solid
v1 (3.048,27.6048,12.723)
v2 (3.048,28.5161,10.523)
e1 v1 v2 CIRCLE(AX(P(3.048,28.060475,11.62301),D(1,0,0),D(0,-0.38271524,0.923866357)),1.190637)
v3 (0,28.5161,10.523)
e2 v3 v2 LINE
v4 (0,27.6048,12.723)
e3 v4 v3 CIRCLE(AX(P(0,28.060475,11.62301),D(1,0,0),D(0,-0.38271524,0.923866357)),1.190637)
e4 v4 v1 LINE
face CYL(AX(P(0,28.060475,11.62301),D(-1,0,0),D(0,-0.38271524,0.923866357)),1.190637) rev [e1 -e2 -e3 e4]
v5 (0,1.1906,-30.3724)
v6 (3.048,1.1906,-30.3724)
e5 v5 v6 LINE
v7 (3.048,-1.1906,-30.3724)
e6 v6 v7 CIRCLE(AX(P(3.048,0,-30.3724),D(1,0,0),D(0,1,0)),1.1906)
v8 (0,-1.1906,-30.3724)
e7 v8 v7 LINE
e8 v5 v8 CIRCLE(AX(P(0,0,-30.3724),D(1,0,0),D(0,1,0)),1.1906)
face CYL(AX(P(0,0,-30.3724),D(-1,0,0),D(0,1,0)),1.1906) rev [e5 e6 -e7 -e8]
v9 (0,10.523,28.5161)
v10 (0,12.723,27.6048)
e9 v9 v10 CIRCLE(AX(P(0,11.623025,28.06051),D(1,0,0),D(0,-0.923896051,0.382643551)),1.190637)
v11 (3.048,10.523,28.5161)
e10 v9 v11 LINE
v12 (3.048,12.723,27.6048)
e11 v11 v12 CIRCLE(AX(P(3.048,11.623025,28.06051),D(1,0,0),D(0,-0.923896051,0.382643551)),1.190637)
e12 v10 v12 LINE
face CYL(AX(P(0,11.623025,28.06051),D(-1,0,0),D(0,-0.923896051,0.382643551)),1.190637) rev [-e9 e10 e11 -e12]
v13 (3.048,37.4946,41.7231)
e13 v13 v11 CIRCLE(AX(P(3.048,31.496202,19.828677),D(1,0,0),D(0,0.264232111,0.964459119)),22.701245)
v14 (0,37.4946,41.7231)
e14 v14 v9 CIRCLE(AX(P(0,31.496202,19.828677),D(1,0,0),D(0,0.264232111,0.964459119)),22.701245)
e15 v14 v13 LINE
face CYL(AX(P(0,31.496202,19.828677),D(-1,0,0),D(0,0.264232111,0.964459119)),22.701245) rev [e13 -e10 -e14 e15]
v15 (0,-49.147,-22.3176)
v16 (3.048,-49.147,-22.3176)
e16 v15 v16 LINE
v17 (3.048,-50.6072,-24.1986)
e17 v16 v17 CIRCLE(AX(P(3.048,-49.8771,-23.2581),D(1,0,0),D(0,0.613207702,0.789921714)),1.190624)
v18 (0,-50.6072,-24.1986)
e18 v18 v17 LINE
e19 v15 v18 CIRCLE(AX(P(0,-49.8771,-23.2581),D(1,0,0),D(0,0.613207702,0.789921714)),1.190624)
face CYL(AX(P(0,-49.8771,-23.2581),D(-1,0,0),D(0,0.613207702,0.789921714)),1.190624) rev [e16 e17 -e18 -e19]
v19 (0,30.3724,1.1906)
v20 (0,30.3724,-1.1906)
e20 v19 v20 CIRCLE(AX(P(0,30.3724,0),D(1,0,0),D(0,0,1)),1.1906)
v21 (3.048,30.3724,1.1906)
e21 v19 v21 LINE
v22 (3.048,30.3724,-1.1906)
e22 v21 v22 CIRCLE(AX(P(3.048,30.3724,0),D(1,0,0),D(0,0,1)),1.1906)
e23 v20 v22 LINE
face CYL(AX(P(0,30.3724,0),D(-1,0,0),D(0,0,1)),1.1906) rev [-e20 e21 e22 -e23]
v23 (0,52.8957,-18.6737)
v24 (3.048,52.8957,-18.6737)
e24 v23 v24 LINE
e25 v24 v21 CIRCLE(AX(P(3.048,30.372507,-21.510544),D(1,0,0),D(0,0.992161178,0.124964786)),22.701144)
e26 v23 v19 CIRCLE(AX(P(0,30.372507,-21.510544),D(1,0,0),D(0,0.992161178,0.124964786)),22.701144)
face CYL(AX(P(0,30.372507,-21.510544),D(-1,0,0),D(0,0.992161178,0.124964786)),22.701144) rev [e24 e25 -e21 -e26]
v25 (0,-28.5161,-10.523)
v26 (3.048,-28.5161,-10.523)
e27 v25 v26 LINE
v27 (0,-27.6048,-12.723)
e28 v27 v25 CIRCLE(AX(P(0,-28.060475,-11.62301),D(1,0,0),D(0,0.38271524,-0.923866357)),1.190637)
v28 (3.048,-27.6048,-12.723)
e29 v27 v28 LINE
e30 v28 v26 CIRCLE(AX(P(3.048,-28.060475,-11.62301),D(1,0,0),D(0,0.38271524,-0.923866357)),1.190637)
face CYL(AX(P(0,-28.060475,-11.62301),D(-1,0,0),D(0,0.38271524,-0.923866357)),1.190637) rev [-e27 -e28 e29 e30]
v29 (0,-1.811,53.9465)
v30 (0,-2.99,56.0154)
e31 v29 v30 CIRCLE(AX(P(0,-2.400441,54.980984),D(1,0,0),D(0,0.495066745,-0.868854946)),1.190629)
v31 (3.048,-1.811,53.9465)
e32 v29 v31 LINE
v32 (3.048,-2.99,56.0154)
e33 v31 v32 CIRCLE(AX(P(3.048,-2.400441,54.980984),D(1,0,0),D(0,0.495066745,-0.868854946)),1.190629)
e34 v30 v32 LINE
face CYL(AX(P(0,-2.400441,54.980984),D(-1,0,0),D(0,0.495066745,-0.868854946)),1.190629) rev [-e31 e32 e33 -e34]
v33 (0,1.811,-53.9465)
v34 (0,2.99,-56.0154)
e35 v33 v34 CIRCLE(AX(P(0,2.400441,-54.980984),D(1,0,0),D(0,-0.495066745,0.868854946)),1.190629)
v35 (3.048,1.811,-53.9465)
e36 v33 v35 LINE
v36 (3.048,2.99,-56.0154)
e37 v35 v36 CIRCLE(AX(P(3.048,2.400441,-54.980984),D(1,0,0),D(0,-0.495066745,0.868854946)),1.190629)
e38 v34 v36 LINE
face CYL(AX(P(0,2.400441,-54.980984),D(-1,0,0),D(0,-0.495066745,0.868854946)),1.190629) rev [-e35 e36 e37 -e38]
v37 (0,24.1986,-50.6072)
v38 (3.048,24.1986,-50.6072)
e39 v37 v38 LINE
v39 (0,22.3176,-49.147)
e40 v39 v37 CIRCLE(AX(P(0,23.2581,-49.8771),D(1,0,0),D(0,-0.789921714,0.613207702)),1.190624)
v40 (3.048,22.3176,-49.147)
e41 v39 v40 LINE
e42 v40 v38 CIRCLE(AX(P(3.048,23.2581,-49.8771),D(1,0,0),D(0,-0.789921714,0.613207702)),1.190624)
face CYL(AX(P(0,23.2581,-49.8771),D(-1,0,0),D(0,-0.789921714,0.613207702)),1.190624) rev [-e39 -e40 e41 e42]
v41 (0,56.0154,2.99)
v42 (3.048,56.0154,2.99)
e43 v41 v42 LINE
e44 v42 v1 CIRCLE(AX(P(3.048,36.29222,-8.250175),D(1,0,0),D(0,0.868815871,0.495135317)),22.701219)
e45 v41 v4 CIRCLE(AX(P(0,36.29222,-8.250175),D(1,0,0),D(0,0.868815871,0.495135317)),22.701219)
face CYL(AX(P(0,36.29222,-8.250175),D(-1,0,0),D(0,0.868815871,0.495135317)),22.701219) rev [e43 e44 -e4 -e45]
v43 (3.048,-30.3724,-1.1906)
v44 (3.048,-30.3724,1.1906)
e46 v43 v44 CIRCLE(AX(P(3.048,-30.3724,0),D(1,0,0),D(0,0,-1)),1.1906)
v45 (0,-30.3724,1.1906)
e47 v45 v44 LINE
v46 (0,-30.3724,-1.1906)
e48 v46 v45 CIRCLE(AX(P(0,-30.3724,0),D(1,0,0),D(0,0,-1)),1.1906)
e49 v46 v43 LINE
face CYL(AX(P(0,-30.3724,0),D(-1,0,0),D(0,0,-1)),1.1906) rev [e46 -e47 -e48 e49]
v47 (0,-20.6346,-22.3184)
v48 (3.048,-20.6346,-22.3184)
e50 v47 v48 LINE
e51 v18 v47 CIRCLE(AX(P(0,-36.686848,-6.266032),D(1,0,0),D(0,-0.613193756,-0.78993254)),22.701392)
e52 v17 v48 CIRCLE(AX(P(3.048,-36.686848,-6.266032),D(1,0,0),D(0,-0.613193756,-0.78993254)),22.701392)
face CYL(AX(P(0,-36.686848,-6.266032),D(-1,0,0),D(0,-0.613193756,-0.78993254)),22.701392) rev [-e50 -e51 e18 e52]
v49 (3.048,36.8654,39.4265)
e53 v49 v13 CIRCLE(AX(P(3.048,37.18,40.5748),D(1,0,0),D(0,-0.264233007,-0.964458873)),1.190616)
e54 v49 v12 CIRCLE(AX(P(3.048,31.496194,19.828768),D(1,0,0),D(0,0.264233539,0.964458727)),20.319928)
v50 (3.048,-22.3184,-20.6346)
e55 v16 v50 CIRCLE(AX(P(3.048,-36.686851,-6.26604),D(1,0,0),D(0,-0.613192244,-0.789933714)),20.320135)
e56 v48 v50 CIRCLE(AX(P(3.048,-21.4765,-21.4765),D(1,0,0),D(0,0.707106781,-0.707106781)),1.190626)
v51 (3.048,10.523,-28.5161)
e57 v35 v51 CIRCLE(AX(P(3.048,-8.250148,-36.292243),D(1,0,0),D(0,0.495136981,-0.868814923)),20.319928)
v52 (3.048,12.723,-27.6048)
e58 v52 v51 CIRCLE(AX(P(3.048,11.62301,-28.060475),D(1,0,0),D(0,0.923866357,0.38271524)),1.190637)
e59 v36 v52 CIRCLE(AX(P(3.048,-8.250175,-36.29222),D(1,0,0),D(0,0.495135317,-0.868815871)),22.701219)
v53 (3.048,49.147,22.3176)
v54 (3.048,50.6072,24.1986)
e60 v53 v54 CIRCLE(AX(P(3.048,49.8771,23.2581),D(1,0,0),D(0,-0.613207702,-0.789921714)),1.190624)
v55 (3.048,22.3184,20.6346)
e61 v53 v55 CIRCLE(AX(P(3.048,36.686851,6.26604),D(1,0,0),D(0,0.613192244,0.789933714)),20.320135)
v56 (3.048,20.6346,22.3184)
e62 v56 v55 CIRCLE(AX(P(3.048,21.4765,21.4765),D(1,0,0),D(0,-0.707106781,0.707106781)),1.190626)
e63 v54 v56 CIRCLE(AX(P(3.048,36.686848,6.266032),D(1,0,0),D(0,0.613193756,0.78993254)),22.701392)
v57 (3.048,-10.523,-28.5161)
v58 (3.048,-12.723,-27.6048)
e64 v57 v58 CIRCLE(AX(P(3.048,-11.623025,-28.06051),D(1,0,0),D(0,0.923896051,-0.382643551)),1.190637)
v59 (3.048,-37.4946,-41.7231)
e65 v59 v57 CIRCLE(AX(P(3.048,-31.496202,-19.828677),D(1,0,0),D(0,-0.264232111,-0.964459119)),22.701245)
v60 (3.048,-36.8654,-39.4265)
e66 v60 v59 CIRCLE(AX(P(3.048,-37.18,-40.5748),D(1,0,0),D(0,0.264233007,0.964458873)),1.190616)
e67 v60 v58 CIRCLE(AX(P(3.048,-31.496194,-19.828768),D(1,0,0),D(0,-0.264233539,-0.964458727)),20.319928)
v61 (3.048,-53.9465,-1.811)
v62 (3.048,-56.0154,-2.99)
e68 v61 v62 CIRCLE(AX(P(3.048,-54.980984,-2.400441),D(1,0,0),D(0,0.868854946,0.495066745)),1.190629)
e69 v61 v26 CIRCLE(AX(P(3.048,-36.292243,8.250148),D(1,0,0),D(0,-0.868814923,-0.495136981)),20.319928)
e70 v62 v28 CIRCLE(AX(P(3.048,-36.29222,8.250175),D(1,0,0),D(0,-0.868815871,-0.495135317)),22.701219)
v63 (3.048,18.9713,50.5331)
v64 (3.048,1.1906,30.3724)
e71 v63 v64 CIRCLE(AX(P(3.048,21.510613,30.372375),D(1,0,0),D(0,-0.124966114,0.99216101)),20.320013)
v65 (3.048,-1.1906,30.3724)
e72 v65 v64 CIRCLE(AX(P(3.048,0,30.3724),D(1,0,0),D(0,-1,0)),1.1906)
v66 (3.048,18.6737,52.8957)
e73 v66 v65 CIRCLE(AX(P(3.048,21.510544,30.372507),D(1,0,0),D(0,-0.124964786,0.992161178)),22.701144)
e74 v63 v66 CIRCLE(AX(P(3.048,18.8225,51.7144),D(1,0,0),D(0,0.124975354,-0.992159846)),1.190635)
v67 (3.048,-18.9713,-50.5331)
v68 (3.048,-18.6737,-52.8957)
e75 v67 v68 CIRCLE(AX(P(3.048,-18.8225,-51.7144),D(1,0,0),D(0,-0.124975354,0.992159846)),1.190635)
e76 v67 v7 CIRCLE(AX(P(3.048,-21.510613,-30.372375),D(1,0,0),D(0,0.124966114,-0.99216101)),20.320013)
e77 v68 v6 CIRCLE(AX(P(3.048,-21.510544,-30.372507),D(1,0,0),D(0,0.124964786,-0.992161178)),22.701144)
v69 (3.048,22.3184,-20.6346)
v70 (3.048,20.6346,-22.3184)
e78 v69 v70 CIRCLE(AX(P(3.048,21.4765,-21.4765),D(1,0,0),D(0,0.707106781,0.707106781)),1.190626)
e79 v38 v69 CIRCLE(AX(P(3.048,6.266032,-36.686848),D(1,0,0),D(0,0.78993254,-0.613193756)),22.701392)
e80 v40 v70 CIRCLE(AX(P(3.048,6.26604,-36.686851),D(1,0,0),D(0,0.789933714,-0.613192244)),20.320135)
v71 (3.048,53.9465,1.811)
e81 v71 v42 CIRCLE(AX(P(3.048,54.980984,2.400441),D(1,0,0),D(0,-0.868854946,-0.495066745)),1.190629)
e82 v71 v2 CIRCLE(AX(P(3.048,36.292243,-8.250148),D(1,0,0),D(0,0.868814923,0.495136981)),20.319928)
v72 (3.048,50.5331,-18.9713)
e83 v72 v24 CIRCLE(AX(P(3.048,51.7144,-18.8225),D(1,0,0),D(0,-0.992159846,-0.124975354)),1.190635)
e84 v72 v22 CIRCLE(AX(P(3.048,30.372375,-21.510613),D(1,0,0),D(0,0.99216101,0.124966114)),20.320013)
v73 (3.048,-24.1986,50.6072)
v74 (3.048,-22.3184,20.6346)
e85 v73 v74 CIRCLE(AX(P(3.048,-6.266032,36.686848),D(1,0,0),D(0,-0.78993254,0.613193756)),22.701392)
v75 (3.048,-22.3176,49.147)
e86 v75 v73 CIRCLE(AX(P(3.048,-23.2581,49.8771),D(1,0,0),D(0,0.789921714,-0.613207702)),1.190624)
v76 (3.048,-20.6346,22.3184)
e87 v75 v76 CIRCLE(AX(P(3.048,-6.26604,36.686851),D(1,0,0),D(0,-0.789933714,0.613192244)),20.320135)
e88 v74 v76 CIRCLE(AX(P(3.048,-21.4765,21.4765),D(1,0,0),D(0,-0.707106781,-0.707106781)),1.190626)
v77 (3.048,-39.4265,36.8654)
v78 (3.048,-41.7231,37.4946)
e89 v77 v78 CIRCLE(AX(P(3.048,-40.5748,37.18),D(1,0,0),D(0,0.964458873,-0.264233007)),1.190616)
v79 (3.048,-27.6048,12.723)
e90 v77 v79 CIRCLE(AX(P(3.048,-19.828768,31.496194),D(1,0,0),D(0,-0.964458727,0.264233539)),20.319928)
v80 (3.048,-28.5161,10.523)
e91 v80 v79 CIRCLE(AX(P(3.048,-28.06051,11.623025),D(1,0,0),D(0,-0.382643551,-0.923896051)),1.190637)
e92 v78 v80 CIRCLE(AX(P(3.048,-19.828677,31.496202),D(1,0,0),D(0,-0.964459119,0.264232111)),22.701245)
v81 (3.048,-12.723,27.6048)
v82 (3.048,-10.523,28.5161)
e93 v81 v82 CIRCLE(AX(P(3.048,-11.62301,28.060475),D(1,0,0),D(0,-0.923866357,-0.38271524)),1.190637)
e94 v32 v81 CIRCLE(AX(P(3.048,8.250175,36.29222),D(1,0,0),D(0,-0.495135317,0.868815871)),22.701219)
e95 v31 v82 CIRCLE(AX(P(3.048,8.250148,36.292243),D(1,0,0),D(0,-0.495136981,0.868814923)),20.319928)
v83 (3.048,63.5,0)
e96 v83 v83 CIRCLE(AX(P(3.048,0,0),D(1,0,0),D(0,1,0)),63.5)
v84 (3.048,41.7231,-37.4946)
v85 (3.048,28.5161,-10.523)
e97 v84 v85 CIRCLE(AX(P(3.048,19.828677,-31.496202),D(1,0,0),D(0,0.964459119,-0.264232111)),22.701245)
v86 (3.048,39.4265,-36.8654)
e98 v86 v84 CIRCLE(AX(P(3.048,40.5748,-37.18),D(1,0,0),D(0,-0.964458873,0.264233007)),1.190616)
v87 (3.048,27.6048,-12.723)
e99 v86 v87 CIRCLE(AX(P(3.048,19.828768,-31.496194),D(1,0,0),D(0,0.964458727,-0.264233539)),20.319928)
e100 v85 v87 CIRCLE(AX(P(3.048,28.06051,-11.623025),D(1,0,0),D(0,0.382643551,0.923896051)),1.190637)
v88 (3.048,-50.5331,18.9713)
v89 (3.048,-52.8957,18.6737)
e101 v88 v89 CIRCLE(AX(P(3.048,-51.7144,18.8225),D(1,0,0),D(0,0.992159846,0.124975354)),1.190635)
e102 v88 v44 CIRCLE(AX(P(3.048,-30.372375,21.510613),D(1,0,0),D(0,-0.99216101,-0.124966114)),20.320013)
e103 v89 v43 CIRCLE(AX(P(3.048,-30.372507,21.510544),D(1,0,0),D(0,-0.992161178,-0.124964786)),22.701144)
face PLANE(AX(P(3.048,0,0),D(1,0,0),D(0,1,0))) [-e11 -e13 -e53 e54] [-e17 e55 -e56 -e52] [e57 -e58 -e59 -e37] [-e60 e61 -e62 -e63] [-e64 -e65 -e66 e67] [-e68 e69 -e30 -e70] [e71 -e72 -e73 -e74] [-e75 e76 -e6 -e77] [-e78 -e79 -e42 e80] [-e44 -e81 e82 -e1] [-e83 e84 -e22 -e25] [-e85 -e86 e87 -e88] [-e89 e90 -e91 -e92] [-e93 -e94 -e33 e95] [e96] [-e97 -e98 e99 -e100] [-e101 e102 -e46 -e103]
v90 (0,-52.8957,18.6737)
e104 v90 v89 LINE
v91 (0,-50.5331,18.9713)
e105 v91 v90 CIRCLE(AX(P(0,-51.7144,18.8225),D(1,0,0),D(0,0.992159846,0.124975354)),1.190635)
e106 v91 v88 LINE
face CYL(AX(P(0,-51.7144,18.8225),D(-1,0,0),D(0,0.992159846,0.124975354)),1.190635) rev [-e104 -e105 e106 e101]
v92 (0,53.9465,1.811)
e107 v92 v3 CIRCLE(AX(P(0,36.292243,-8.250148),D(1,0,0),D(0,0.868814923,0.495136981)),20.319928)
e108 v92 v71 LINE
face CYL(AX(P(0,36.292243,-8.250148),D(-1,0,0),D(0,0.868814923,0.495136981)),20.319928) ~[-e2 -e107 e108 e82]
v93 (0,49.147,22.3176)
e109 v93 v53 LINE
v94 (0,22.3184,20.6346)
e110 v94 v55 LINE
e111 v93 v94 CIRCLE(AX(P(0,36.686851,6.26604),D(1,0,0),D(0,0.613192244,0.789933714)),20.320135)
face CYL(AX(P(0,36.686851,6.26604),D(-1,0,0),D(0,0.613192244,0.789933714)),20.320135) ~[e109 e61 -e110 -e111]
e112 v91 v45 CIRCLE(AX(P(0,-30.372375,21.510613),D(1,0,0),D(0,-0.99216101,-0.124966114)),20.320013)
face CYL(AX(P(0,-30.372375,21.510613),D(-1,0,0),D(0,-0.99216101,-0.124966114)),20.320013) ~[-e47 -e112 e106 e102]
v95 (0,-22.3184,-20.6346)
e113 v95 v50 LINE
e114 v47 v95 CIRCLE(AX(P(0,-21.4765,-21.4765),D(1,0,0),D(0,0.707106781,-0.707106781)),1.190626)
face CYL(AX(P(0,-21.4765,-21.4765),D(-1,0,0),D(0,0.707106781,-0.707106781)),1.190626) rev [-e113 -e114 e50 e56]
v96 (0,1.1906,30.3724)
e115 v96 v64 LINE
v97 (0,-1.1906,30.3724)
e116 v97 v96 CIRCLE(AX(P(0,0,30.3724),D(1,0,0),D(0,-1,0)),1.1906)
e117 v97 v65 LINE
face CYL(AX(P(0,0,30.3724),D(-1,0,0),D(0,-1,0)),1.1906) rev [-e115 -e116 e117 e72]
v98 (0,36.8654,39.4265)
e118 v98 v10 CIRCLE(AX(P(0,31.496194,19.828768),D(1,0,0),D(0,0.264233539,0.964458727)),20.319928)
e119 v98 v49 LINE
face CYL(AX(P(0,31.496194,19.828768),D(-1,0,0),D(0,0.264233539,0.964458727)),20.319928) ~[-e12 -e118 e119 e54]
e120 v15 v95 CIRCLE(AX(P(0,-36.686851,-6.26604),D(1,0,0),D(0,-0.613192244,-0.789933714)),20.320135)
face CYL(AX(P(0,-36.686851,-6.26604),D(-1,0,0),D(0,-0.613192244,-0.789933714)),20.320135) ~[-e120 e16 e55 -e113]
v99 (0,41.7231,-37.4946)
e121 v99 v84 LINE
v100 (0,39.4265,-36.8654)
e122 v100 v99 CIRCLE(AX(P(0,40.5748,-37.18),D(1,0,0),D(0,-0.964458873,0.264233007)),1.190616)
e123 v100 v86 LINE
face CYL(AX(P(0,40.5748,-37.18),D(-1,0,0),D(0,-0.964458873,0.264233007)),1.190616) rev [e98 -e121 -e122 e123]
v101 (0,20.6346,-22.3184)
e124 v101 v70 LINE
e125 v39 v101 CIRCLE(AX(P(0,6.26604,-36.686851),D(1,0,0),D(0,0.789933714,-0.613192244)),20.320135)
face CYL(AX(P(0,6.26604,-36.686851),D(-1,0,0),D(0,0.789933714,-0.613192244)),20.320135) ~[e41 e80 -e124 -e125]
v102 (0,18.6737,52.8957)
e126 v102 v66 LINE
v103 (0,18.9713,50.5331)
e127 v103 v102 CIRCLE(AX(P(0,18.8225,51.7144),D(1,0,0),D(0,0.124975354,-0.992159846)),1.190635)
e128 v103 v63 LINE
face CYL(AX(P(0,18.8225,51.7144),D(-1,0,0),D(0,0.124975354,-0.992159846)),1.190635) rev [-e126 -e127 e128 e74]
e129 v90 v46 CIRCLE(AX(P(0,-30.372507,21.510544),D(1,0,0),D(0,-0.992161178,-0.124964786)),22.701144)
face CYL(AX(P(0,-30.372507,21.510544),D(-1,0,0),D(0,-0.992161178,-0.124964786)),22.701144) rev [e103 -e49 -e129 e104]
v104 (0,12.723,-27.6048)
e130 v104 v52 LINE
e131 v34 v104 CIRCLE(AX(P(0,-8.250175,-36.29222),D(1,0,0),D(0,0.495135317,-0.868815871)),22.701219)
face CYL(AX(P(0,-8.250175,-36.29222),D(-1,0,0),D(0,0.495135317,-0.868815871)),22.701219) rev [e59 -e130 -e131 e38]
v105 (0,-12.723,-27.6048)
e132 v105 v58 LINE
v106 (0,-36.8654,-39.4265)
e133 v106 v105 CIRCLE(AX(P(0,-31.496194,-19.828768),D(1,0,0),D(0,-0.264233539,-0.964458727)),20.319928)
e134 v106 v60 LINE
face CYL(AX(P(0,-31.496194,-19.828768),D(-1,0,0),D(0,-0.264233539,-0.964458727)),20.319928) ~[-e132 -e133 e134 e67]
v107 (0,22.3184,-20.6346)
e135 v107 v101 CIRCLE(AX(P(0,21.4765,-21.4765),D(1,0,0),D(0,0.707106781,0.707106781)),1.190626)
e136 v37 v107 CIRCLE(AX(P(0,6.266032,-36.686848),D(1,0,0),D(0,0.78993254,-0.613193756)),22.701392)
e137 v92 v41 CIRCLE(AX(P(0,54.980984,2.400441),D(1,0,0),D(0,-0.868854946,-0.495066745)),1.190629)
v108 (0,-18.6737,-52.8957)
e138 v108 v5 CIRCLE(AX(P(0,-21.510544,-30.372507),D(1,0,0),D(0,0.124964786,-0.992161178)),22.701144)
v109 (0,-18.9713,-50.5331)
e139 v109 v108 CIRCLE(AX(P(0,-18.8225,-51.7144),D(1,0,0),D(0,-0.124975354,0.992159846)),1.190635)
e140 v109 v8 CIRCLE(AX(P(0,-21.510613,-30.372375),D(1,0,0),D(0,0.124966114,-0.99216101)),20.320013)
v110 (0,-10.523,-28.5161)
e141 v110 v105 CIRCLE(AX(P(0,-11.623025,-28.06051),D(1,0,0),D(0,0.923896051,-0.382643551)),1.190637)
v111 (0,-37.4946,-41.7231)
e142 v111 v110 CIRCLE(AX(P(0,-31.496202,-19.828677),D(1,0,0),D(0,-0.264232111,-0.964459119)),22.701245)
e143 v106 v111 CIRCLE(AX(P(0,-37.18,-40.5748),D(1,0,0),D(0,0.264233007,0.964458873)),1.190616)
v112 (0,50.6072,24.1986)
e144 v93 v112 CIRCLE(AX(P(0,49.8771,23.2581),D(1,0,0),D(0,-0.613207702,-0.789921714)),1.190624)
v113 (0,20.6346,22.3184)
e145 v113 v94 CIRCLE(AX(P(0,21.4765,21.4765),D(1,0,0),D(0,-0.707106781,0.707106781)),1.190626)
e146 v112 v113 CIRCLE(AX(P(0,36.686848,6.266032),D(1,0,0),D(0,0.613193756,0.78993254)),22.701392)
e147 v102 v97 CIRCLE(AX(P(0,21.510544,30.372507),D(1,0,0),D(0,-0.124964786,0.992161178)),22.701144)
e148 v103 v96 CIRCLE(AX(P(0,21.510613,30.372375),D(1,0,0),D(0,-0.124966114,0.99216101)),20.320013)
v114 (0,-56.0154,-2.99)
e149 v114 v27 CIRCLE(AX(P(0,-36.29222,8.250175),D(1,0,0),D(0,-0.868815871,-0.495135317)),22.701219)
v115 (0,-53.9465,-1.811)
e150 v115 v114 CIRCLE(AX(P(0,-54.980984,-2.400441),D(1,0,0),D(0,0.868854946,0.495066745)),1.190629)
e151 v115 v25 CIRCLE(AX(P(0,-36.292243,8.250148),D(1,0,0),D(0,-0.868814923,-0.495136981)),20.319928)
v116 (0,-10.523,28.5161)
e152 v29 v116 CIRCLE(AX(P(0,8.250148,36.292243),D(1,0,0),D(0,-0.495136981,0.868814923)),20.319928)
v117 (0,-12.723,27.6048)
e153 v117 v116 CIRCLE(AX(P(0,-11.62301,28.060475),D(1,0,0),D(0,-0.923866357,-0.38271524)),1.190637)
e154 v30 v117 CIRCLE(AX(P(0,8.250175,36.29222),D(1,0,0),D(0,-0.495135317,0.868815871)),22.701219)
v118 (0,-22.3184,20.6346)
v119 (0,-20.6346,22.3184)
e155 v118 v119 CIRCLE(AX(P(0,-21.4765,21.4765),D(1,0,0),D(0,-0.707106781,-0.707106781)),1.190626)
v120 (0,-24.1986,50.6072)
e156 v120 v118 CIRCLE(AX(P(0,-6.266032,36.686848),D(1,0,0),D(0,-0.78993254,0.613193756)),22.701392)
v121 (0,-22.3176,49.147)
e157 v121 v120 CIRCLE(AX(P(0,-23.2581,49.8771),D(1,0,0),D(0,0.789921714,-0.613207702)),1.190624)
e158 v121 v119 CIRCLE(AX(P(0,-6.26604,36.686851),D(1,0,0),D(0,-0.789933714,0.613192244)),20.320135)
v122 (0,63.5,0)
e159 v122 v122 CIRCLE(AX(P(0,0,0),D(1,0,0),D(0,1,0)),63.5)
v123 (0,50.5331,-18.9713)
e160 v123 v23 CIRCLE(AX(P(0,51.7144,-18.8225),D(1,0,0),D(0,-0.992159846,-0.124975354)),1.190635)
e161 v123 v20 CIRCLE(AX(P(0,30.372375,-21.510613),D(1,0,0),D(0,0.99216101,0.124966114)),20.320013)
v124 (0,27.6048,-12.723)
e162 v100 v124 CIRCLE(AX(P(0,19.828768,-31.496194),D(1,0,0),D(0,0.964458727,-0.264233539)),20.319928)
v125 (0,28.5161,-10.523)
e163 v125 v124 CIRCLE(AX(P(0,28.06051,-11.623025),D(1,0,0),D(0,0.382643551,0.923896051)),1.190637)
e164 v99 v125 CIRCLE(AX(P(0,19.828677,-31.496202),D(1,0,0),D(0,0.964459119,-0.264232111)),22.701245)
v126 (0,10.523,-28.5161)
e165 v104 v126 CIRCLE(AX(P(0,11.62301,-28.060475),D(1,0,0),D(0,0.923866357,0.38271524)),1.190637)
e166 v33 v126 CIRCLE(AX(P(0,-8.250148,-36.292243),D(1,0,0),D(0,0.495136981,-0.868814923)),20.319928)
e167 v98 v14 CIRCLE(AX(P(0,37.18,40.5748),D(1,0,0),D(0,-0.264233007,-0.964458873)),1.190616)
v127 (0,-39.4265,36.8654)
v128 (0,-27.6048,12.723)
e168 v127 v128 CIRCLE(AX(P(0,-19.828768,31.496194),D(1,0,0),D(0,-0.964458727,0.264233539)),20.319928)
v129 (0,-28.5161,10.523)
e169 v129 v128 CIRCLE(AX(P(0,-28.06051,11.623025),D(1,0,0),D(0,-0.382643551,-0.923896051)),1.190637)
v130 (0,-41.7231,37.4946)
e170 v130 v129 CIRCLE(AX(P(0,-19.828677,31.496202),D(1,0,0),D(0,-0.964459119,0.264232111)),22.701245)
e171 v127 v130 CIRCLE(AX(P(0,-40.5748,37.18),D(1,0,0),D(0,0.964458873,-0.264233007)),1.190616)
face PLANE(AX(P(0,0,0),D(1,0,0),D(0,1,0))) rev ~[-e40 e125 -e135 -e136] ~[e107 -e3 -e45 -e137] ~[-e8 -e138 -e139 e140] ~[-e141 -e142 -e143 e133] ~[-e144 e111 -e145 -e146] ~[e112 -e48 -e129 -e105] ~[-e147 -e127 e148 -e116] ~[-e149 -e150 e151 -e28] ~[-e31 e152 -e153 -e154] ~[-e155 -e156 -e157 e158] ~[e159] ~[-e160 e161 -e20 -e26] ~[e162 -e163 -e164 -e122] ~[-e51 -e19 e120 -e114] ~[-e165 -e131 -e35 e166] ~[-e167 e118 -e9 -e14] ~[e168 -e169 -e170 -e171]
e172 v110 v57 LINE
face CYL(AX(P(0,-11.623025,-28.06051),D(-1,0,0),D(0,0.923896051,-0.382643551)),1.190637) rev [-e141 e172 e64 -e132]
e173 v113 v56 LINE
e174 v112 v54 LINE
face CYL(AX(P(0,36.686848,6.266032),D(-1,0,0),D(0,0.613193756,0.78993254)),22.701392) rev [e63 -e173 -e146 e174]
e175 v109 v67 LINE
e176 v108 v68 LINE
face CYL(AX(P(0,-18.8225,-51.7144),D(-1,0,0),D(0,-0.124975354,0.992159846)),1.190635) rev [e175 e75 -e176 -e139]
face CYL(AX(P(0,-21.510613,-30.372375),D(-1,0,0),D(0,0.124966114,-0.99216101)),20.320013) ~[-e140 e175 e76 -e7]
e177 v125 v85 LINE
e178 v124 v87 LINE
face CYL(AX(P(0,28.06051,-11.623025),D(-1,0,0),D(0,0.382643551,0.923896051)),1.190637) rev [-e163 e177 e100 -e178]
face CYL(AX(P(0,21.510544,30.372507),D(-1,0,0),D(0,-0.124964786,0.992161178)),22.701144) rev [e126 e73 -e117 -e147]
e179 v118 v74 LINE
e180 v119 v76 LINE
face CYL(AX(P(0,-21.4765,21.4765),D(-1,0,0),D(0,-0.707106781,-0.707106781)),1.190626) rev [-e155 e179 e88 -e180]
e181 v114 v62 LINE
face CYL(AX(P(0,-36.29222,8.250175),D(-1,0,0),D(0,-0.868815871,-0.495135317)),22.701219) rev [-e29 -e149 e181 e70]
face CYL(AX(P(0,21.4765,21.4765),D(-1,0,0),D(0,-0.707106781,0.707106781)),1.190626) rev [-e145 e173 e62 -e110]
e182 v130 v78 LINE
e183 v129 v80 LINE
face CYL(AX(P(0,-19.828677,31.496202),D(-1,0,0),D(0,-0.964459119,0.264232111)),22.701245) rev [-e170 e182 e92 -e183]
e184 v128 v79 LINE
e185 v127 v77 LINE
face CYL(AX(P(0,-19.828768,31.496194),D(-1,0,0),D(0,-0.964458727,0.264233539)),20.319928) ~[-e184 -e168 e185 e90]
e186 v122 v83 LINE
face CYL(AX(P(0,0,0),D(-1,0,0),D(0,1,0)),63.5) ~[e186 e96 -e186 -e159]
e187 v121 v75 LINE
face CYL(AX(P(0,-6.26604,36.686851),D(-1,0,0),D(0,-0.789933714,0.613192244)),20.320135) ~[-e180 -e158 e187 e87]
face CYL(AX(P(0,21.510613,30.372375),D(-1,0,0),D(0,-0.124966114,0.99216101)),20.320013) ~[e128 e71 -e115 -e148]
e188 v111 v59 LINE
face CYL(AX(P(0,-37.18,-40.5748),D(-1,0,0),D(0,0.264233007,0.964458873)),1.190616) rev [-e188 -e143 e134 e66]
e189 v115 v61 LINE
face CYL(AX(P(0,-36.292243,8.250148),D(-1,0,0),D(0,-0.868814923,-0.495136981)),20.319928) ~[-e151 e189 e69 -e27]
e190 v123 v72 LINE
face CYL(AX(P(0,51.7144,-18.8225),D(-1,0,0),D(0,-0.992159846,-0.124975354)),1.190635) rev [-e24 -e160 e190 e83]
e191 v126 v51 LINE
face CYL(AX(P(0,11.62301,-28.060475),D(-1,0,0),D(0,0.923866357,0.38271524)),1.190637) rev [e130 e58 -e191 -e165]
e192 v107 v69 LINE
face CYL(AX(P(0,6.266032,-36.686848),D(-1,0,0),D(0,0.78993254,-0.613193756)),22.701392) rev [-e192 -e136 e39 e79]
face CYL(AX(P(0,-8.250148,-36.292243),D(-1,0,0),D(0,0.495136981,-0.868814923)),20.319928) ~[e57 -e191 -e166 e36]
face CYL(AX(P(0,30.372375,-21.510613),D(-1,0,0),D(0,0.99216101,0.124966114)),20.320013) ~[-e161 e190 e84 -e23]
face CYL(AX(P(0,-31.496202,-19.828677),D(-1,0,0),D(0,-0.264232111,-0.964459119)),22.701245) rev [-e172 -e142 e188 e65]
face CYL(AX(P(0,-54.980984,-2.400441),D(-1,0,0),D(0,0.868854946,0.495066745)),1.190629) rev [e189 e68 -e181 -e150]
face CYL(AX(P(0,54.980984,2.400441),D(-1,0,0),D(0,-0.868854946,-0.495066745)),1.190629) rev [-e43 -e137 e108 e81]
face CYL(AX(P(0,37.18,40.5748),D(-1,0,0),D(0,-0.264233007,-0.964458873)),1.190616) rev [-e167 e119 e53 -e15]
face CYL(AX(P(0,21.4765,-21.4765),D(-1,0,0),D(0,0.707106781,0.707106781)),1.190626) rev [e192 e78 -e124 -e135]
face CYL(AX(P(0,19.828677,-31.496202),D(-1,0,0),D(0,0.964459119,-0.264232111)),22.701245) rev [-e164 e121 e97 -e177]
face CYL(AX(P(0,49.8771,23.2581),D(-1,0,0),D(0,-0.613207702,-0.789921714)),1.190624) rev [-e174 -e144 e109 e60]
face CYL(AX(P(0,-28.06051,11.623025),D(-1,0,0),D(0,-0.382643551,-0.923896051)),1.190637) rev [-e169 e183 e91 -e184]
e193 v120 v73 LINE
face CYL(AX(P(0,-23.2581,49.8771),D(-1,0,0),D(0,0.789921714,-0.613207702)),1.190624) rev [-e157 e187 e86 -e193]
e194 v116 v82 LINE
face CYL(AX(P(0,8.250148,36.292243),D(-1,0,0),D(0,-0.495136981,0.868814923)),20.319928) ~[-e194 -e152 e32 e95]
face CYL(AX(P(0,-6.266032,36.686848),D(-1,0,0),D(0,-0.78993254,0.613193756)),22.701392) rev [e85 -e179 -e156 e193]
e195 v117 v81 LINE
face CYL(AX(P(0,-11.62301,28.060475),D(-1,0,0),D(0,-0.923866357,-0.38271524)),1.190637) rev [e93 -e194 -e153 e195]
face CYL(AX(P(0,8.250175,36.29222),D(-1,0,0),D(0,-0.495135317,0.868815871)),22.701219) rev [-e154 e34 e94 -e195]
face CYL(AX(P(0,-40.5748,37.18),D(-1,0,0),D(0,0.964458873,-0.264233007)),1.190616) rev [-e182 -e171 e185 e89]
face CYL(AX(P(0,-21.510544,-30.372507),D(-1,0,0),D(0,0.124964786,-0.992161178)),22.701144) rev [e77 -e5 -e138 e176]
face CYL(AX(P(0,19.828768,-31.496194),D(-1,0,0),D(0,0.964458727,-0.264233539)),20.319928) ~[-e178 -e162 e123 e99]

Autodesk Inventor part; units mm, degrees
ref_plane "YZ Plane" through (0, 0, 0) normal (1, 0, 0) x (0, 1, 0)
ref_plane "XZ Plane" through (0, 0, 0) normal (0, 1, 0) x (-1, 0, 0)
ref_plane "XY Plane" through (0, 0, 0) normal (0, 0, 1) x (1, 0, 0)
sketch "Sketch1" plane through (0, 0, 0) normal (1, 0, 0) x (0, 1, 0)
  circle A0 centre (0, 0) radius 63.5
  arc A1 (51.7144, -18.8225) -> (30.3724, 0) centre (30.3724, -21.5106) ccw construction
  arc A2 (52.8957, -18.6737) -> (30.3724, 1.1906) centre (30.3724, -21.5106) ccw
  arc A3 (50.5331, -18.9713) -> (30.3724, -1.1906) centre (30.3724, -21.5106) ccw
  arc A4 (50.5331, -18.9713) -> (52.8957, -18.6737) centre (51.7144, -18.8225) ccw
  arc A5 (30.3724, 1.1906) -> (30.3724, -1.1906) centre (30.3724, 0) ccw
  line L0 (51.7144, -18.8225) -> (59.6705, -21.7183) construction
  line L1 (30.3724, 0) -> (63.5, 0) construction
  arc A6 (54.981, 2.4005) -> (28.0605, 11.623) centre (36.2922, -8.2502) ccw construction
  arc A7 (56.0154, 2.99) -> (27.6048, 12.723) centre (36.2922, -8.2502) ccw
  arc A8 (53.9465, 1.811) -> (28.5161, 10.523) centre (36.2922, -8.2502) ccw
  arc A9 (53.9465, 1.811) -> (56.0154, 2.99) centre (54.981, 2.4005) ccw
  arc A10 (27.6048, 12.723) -> (28.5161, 10.523) centre (28.0605, 11.623) ccw
  line L2 (54.981, 2.4005) -> (63.4396, 2.7698) construction
  line L3 (28.0605, 11.623) -> (58.6664, 24.3004) construction
  arc A11 (49.8771, 23.2581) -> (21.4765, 21.4765) centre (36.6869, 6.2662) ccw construction
  arc A12 (50.6072, 24.1986) -> (20.6346, 22.3184) centre (36.6869, 6.2662) ccw
  arc A13 (49.147, 22.3176) -> (22.3184, 20.6346) centre (36.6869, 6.2662) ccw
  arc A14 (49.147, 22.3176) -> (50.6072, 24.1986) centre (49.8771, 23.2581) ccw
  arc A15 (20.6346, 22.3184) -> (22.3184, 20.6346) centre (21.4765, 21.4765) ccw
  line L4 (49.8771, 23.2581) -> (57.5505, 26.8363) construction
  line L5 (21.4765, 21.4765) -> (44.9013, 44.9013) construction
  arc A16 (37.18, 40.5748) -> (11.623, 28.0605) centre (31.4962, 19.8287) ccw construction
  arc A17 (37.4946, 41.7231) -> (10.523, 28.5161) centre (31.4962, 19.8287) ccw
  arc A18 (36.8654, 39.4265) -> (12.723, 27.6048) centre (31.4962, 19.8287) ccw
  arc A19 (36.8654, 39.4265) -> (37.4946, 41.7231) centre (37.18, 40.5748) ccw
  arc A20 (10.523, 28.5161) -> (12.723, 27.6048) centre (11.623, 28.0605) ccw
  line L6 (37.18, 40.5748) -> (42.9, 46.8171) construction
  line L7 (11.623, 28.0605) -> (24.3004, 58.6664) construction
  arc A21 (18.8225, 51.7144) -> (0, 30.3724) centre (21.5106, 30.3724) ccw construction
  arc A22 (18.6737, 52.8957) -> (-1.1906, 30.3724) centre (21.5106, 30.3724) ccw
  arc A23 (18.9713, 50.5331) -> (1.1906, 30.3724) centre (21.5106, 30.3724) ccw
  arc A24 (18.9713, 50.5331) -> (18.6737, 52.8957) centre (18.8225, 51.7144) ccw
  arc A25 (-1.1906, 30.3724) -> (1.1906, 30.3724) centre (0, 30.3724) ccw
  line L8 (18.8225, 51.7144) -> (21.7183, 59.6705) construction
  line L9 (0, 30.3724) -> (0, 63.5) construction
  arc A26 (-2.4005, 54.981) -> (-11.623, 28.0605) centre (8.2502, 36.2922) ccw construction
  arc A27 (-2.99, 56.0154) -> (-12.723, 27.6048) centre (8.2502, 36.2922) ccw
  arc A28 (-1.811, 53.9465) -> (-10.523, 28.5161) centre (8.2502, 36.2922) ccw
  arc A29 (-1.811, 53.9465) -> (-2.99, 56.0154) centre (-2.4005, 54.981) ccw
  arc A30 (-12.723, 27.6048) -> (-10.523, 28.5161) centre (-11.623, 28.0605) ccw
  line L10 (-2.4005, 54.981) -> (-2.7698, 63.4396) construction
  line L11 (-11.623, 28.0605) -> (-24.3004, 58.6664) construction
  arc A31 (-23.2581, 49.8771) -> (-21.4765, 21.4765) centre (-6.2662, 36.6869) ccw construction
  arc A32 (-24.1986, 50.6072) -> (-22.3184, 20.6346) centre (-6.2662, 36.6869) ccw
  arc A33 (-22.3176, 49.147) -> (-20.6346, 22.3184) centre (-6.2662, 36.6869) ccw
  arc A34 (-22.3176, 49.147) -> (-24.1986, 50.6072) centre (-23.2581, 49.8771) ccw
  arc A35 (-22.3184, 20.6346) -> (-20.6346, 22.3184) centre (-21.4765, 21.4765) ccw
  line L12 (-23.2581, 49.8771) -> (-26.8363, 57.5505) construction
  line L13 (-21.4765, 21.4765) -> (-44.9013, 44.9013) construction
  arc A36 (-40.5748, 37.18) -> (-28.0605, 11.623) centre (-19.8287, 31.4962) ccw construction
  arc A37 (-41.7231, 37.4946) -> (-28.5161, 10.523) centre (-19.8287, 31.4962) ccw
  arc A38 (-39.4265, 36.8654) -> (-27.6048, 12.723) centre (-19.8287, 31.4962) ccw
  arc A39 (-39.4265, 36.8654) -> (-41.7231, 37.4946) centre (-40.5748, 37.18) ccw
  arc A40 (-28.5161, 10.523) -> (-27.6048, 12.723) centre (-28.0605, 11.623) ccw
  line L14 (-40.5748, 37.18) -> (-46.8171, 42.9) construction
  line L15 (-28.0605, 11.623) -> (-58.6664, 24.3004) construction
  arc A41 (-51.7144, 18.8225) -> (-30.3724, 0) centre (-30.3724, 21.5106) ccw construction
  arc A42 (-52.8957, 18.6737) -> (-30.3724, -1.1906) centre (-30.3724, 21.5106) ccw
  arc A43 (-50.5331, 18.9713) -> (-30.3724, 1.1906) centre (-30.3724, 21.5106) ccw
  arc A44 (-50.5331, 18.9713) -> (-52.8957, 18.6737) centre (-51.7144, 18.8225) ccw
  arc A45 (-30.3724, -1.1906) -> (-30.3724, 1.1906) centre (-30.3724, 0) ccw
  line L16 (-51.7144, 18.8225) -> (-59.6705, 21.7183) construction
  line L17 (-30.3724, 0) -> (-63.5, 0) construction
  arc A46 (-54.981, -2.4005) -> (-28.0605, -11.623) centre (-36.2922, 8.2502) ccw construction
  arc A47 (-56.0154, -2.99) -> (-27.6048, -12.723) centre (-36.2922, 8.2502) ccw
  arc A48 (-53.9465, -1.811) -> (-28.5161, -10.523) centre (-36.2922, 8.2502) ccw
  arc A49 (-53.9465, -1.811) -> (-56.0154, -2.99) centre (-54.981, -2.4005) ccw
  arc A50 (-27.6048, -12.723) -> (-28.5161, -10.523) centre (-28.0605, -11.623) ccw
  line L18 (-54.981, -2.4005) -> (-63.4396, -2.7698) construction
  line L19 (-28.0605, -11.623) -> (-58.6664, -24.3004) construction
  arc A51 (-49.8771, -23.2581) -> (-21.4765, -21.4765) centre (-36.6869, -6.2662) ccw construction
  arc A52 (-50.6072, -24.1986) -> (-20.6346, -22.3184) centre (-36.6869, -6.2662) ccw
  arc A53 (-49.147, -22.3176) -> (-22.3184, -20.6346) centre (-36.6869, -6.2662) ccw
  arc A54 (-49.147, -22.3176) -> (-50.6072, -24.1986) centre (-49.8771, -23.2581) ccw
  arc A55 (-20.6346, -22.3184) -> (-22.3184, -20.6346) centre (-21.4765, -21.4765) ccw
  line L20 (-49.8771, -23.2581) -> (-57.5505, -26.8363) construction
  line L21 (-21.4765, -21.4765) -> (-44.9013, -44.9013) construction
  arc A56 (-37.18, -40.5748) -> (-11.623, -28.0605) centre (-31.4962, -19.8287) ccw construction
  arc A57 (-37.4946, -41.7231) -> (-10.523, -28.5161) centre (-31.4962, -19.8287) ccw
  arc A58 (-36.8654, -39.4265) -> (-12.723, -27.6048) centre (-31.4962, -19.8287) ccw
  arc A59 (-36.8654, -39.4265) -> (-37.4946, -41.7231) centre (-37.18, -40.5748) ccw
  arc A60 (-10.523, -28.5161) -> (-12.723, -27.6048) centre (-11.623, -28.0605) ccw
  line L22 (-37.18, -40.5748) -> (-42.9, -46.8171) construction
  line L23 (-11.623, -28.0605) -> (-24.3004, -58.6664) construction
  arc A61 (-18.8225, -51.7144) -> (0, -30.3724) centre (-21.5106, -30.3724) ccw construction
  arc A62 (-18.6737, -52.8957) -> (1.1906, -30.3724) centre (-21.5106, -30.3724) ccw
  arc A63 (-18.9713, -50.5331) -> (-1.1906, -30.3724) centre (-21.5106, -30.3724) ccw
  arc A64 (-18.9713, -50.5331) -> (-18.6737, -52.8957) centre (-18.8225, -51.7144) ccw
  arc A65 (1.1906, -30.3724) -> (-1.1906, -30.3724) centre (0, -30.3724) ccw
  line L24 (-18.8225, -51.7144) -> (-21.7183, -59.6705) construction
  line L25 (0, -30.3724) -> (0, -63.5) construction
  arc A66 (2.4005, -54.981) -> (11.623, -28.0605) centre (-8.2502, -36.2922) ccw construction
  arc A67 (2.99, -56.0154) -> (12.723, -27.6048) centre (-8.2502, -36.2922) ccw
  arc A68 (1.811, -53.9465) -> (10.523, -28.5161) centre (-8.2502, -36.2922) ccw
  arc A69 (1.811, -53.9465) -> (2.99, -56.0154) centre (2.4005, -54.981) ccw
  arc A70 (12.723, -27.6048) -> (10.523, -28.5161) centre (11.623, -28.0605) ccw
  line L26 (2.4005, -54.981) -> (2.7698, -63.4396) construction
  line L27 (11.623, -28.0605) -> (24.3004, -58.6664) construction
  arc A71 (23.2581, -49.8771) -> (21.4765, -21.4765) centre (6.2662, -36.6869) ccw construction
  arc A72 (24.1986, -50.6072) -> (22.3184, -20.6346) centre (6.2662, -36.6869) ccw
  arc A73 (22.3176, -49.147) -> (20.6346, -22.3184) centre (6.2662, -36.6869) ccw
  arc A74 (22.3176, -49.147) -> (24.1986, -50.6072) centre (23.2581, -49.8771) ccw
  arc A75 (22.3184, -20.6346) -> (20.6346, -22.3184) centre (21.4765, -21.4765) ccw
  line L28 (23.2581, -49.8771) -> (26.8363, -57.5505) construction
  line L29 (21.4765, -21.4765) -> (44.9013, -44.9013) construction
  arc A76 (40.5748, -37.18) -> (28.0605, -11.623) centre (19.8287, -31.4962) ccw construction
  arc A77 (41.7231, -37.4946) -> (28.5161, -10.523) centre (19.8287, -31.4962) ccw
  arc A78 (39.4265, -36.8654) -> (27.6048, -12.723) centre (19.8287, -31.4962) ccw
  arc A79 (39.4265, -36.8654) -> (41.7231, -37.4946) centre (40.5748, -37.18) ccw
  arc A80 (28.5161, -10.523) -> (27.6048, -12.723) centre (28.0605, -11.623) ccw
  line L30 (40.5748, -37.18) -> (46.8171, -42.9) construction
  line L31 (28.0605, -11.623) -> (58.6664, -24.3004) construction
  dimension "d0" = 127
  dimension "d1" = 20
  dimension "d2" = 8.4667
  dimension "d5" = 2.3813
  dimension "d8" = 360
  dimension "d10" = 20.32
extrude "Plate1" add sketch "Sketch1" along normal blind 3.048
equation "\"d11\" = Thickness"
equation "\"BendRadius\" = Thickness"
equation "\"BendReliefWidth\" = Thickness"
equation "\"BendReliefDepth\" = 0.5 * Thickness"
equation "\"CornerReliefSize\" = 4 * Thickness"
equation "\"MinimumRemnant\" = 2 * Thickness"
equation "\"TransitionRadius\" = BendRadius"
equation "\"JacobiRadiusSize\" = BendRadius"
equation "\"GapSize\" = Thickness"
equation "\"Thickness\" = 3.048"
properties part number "FanCentRotorRear"
